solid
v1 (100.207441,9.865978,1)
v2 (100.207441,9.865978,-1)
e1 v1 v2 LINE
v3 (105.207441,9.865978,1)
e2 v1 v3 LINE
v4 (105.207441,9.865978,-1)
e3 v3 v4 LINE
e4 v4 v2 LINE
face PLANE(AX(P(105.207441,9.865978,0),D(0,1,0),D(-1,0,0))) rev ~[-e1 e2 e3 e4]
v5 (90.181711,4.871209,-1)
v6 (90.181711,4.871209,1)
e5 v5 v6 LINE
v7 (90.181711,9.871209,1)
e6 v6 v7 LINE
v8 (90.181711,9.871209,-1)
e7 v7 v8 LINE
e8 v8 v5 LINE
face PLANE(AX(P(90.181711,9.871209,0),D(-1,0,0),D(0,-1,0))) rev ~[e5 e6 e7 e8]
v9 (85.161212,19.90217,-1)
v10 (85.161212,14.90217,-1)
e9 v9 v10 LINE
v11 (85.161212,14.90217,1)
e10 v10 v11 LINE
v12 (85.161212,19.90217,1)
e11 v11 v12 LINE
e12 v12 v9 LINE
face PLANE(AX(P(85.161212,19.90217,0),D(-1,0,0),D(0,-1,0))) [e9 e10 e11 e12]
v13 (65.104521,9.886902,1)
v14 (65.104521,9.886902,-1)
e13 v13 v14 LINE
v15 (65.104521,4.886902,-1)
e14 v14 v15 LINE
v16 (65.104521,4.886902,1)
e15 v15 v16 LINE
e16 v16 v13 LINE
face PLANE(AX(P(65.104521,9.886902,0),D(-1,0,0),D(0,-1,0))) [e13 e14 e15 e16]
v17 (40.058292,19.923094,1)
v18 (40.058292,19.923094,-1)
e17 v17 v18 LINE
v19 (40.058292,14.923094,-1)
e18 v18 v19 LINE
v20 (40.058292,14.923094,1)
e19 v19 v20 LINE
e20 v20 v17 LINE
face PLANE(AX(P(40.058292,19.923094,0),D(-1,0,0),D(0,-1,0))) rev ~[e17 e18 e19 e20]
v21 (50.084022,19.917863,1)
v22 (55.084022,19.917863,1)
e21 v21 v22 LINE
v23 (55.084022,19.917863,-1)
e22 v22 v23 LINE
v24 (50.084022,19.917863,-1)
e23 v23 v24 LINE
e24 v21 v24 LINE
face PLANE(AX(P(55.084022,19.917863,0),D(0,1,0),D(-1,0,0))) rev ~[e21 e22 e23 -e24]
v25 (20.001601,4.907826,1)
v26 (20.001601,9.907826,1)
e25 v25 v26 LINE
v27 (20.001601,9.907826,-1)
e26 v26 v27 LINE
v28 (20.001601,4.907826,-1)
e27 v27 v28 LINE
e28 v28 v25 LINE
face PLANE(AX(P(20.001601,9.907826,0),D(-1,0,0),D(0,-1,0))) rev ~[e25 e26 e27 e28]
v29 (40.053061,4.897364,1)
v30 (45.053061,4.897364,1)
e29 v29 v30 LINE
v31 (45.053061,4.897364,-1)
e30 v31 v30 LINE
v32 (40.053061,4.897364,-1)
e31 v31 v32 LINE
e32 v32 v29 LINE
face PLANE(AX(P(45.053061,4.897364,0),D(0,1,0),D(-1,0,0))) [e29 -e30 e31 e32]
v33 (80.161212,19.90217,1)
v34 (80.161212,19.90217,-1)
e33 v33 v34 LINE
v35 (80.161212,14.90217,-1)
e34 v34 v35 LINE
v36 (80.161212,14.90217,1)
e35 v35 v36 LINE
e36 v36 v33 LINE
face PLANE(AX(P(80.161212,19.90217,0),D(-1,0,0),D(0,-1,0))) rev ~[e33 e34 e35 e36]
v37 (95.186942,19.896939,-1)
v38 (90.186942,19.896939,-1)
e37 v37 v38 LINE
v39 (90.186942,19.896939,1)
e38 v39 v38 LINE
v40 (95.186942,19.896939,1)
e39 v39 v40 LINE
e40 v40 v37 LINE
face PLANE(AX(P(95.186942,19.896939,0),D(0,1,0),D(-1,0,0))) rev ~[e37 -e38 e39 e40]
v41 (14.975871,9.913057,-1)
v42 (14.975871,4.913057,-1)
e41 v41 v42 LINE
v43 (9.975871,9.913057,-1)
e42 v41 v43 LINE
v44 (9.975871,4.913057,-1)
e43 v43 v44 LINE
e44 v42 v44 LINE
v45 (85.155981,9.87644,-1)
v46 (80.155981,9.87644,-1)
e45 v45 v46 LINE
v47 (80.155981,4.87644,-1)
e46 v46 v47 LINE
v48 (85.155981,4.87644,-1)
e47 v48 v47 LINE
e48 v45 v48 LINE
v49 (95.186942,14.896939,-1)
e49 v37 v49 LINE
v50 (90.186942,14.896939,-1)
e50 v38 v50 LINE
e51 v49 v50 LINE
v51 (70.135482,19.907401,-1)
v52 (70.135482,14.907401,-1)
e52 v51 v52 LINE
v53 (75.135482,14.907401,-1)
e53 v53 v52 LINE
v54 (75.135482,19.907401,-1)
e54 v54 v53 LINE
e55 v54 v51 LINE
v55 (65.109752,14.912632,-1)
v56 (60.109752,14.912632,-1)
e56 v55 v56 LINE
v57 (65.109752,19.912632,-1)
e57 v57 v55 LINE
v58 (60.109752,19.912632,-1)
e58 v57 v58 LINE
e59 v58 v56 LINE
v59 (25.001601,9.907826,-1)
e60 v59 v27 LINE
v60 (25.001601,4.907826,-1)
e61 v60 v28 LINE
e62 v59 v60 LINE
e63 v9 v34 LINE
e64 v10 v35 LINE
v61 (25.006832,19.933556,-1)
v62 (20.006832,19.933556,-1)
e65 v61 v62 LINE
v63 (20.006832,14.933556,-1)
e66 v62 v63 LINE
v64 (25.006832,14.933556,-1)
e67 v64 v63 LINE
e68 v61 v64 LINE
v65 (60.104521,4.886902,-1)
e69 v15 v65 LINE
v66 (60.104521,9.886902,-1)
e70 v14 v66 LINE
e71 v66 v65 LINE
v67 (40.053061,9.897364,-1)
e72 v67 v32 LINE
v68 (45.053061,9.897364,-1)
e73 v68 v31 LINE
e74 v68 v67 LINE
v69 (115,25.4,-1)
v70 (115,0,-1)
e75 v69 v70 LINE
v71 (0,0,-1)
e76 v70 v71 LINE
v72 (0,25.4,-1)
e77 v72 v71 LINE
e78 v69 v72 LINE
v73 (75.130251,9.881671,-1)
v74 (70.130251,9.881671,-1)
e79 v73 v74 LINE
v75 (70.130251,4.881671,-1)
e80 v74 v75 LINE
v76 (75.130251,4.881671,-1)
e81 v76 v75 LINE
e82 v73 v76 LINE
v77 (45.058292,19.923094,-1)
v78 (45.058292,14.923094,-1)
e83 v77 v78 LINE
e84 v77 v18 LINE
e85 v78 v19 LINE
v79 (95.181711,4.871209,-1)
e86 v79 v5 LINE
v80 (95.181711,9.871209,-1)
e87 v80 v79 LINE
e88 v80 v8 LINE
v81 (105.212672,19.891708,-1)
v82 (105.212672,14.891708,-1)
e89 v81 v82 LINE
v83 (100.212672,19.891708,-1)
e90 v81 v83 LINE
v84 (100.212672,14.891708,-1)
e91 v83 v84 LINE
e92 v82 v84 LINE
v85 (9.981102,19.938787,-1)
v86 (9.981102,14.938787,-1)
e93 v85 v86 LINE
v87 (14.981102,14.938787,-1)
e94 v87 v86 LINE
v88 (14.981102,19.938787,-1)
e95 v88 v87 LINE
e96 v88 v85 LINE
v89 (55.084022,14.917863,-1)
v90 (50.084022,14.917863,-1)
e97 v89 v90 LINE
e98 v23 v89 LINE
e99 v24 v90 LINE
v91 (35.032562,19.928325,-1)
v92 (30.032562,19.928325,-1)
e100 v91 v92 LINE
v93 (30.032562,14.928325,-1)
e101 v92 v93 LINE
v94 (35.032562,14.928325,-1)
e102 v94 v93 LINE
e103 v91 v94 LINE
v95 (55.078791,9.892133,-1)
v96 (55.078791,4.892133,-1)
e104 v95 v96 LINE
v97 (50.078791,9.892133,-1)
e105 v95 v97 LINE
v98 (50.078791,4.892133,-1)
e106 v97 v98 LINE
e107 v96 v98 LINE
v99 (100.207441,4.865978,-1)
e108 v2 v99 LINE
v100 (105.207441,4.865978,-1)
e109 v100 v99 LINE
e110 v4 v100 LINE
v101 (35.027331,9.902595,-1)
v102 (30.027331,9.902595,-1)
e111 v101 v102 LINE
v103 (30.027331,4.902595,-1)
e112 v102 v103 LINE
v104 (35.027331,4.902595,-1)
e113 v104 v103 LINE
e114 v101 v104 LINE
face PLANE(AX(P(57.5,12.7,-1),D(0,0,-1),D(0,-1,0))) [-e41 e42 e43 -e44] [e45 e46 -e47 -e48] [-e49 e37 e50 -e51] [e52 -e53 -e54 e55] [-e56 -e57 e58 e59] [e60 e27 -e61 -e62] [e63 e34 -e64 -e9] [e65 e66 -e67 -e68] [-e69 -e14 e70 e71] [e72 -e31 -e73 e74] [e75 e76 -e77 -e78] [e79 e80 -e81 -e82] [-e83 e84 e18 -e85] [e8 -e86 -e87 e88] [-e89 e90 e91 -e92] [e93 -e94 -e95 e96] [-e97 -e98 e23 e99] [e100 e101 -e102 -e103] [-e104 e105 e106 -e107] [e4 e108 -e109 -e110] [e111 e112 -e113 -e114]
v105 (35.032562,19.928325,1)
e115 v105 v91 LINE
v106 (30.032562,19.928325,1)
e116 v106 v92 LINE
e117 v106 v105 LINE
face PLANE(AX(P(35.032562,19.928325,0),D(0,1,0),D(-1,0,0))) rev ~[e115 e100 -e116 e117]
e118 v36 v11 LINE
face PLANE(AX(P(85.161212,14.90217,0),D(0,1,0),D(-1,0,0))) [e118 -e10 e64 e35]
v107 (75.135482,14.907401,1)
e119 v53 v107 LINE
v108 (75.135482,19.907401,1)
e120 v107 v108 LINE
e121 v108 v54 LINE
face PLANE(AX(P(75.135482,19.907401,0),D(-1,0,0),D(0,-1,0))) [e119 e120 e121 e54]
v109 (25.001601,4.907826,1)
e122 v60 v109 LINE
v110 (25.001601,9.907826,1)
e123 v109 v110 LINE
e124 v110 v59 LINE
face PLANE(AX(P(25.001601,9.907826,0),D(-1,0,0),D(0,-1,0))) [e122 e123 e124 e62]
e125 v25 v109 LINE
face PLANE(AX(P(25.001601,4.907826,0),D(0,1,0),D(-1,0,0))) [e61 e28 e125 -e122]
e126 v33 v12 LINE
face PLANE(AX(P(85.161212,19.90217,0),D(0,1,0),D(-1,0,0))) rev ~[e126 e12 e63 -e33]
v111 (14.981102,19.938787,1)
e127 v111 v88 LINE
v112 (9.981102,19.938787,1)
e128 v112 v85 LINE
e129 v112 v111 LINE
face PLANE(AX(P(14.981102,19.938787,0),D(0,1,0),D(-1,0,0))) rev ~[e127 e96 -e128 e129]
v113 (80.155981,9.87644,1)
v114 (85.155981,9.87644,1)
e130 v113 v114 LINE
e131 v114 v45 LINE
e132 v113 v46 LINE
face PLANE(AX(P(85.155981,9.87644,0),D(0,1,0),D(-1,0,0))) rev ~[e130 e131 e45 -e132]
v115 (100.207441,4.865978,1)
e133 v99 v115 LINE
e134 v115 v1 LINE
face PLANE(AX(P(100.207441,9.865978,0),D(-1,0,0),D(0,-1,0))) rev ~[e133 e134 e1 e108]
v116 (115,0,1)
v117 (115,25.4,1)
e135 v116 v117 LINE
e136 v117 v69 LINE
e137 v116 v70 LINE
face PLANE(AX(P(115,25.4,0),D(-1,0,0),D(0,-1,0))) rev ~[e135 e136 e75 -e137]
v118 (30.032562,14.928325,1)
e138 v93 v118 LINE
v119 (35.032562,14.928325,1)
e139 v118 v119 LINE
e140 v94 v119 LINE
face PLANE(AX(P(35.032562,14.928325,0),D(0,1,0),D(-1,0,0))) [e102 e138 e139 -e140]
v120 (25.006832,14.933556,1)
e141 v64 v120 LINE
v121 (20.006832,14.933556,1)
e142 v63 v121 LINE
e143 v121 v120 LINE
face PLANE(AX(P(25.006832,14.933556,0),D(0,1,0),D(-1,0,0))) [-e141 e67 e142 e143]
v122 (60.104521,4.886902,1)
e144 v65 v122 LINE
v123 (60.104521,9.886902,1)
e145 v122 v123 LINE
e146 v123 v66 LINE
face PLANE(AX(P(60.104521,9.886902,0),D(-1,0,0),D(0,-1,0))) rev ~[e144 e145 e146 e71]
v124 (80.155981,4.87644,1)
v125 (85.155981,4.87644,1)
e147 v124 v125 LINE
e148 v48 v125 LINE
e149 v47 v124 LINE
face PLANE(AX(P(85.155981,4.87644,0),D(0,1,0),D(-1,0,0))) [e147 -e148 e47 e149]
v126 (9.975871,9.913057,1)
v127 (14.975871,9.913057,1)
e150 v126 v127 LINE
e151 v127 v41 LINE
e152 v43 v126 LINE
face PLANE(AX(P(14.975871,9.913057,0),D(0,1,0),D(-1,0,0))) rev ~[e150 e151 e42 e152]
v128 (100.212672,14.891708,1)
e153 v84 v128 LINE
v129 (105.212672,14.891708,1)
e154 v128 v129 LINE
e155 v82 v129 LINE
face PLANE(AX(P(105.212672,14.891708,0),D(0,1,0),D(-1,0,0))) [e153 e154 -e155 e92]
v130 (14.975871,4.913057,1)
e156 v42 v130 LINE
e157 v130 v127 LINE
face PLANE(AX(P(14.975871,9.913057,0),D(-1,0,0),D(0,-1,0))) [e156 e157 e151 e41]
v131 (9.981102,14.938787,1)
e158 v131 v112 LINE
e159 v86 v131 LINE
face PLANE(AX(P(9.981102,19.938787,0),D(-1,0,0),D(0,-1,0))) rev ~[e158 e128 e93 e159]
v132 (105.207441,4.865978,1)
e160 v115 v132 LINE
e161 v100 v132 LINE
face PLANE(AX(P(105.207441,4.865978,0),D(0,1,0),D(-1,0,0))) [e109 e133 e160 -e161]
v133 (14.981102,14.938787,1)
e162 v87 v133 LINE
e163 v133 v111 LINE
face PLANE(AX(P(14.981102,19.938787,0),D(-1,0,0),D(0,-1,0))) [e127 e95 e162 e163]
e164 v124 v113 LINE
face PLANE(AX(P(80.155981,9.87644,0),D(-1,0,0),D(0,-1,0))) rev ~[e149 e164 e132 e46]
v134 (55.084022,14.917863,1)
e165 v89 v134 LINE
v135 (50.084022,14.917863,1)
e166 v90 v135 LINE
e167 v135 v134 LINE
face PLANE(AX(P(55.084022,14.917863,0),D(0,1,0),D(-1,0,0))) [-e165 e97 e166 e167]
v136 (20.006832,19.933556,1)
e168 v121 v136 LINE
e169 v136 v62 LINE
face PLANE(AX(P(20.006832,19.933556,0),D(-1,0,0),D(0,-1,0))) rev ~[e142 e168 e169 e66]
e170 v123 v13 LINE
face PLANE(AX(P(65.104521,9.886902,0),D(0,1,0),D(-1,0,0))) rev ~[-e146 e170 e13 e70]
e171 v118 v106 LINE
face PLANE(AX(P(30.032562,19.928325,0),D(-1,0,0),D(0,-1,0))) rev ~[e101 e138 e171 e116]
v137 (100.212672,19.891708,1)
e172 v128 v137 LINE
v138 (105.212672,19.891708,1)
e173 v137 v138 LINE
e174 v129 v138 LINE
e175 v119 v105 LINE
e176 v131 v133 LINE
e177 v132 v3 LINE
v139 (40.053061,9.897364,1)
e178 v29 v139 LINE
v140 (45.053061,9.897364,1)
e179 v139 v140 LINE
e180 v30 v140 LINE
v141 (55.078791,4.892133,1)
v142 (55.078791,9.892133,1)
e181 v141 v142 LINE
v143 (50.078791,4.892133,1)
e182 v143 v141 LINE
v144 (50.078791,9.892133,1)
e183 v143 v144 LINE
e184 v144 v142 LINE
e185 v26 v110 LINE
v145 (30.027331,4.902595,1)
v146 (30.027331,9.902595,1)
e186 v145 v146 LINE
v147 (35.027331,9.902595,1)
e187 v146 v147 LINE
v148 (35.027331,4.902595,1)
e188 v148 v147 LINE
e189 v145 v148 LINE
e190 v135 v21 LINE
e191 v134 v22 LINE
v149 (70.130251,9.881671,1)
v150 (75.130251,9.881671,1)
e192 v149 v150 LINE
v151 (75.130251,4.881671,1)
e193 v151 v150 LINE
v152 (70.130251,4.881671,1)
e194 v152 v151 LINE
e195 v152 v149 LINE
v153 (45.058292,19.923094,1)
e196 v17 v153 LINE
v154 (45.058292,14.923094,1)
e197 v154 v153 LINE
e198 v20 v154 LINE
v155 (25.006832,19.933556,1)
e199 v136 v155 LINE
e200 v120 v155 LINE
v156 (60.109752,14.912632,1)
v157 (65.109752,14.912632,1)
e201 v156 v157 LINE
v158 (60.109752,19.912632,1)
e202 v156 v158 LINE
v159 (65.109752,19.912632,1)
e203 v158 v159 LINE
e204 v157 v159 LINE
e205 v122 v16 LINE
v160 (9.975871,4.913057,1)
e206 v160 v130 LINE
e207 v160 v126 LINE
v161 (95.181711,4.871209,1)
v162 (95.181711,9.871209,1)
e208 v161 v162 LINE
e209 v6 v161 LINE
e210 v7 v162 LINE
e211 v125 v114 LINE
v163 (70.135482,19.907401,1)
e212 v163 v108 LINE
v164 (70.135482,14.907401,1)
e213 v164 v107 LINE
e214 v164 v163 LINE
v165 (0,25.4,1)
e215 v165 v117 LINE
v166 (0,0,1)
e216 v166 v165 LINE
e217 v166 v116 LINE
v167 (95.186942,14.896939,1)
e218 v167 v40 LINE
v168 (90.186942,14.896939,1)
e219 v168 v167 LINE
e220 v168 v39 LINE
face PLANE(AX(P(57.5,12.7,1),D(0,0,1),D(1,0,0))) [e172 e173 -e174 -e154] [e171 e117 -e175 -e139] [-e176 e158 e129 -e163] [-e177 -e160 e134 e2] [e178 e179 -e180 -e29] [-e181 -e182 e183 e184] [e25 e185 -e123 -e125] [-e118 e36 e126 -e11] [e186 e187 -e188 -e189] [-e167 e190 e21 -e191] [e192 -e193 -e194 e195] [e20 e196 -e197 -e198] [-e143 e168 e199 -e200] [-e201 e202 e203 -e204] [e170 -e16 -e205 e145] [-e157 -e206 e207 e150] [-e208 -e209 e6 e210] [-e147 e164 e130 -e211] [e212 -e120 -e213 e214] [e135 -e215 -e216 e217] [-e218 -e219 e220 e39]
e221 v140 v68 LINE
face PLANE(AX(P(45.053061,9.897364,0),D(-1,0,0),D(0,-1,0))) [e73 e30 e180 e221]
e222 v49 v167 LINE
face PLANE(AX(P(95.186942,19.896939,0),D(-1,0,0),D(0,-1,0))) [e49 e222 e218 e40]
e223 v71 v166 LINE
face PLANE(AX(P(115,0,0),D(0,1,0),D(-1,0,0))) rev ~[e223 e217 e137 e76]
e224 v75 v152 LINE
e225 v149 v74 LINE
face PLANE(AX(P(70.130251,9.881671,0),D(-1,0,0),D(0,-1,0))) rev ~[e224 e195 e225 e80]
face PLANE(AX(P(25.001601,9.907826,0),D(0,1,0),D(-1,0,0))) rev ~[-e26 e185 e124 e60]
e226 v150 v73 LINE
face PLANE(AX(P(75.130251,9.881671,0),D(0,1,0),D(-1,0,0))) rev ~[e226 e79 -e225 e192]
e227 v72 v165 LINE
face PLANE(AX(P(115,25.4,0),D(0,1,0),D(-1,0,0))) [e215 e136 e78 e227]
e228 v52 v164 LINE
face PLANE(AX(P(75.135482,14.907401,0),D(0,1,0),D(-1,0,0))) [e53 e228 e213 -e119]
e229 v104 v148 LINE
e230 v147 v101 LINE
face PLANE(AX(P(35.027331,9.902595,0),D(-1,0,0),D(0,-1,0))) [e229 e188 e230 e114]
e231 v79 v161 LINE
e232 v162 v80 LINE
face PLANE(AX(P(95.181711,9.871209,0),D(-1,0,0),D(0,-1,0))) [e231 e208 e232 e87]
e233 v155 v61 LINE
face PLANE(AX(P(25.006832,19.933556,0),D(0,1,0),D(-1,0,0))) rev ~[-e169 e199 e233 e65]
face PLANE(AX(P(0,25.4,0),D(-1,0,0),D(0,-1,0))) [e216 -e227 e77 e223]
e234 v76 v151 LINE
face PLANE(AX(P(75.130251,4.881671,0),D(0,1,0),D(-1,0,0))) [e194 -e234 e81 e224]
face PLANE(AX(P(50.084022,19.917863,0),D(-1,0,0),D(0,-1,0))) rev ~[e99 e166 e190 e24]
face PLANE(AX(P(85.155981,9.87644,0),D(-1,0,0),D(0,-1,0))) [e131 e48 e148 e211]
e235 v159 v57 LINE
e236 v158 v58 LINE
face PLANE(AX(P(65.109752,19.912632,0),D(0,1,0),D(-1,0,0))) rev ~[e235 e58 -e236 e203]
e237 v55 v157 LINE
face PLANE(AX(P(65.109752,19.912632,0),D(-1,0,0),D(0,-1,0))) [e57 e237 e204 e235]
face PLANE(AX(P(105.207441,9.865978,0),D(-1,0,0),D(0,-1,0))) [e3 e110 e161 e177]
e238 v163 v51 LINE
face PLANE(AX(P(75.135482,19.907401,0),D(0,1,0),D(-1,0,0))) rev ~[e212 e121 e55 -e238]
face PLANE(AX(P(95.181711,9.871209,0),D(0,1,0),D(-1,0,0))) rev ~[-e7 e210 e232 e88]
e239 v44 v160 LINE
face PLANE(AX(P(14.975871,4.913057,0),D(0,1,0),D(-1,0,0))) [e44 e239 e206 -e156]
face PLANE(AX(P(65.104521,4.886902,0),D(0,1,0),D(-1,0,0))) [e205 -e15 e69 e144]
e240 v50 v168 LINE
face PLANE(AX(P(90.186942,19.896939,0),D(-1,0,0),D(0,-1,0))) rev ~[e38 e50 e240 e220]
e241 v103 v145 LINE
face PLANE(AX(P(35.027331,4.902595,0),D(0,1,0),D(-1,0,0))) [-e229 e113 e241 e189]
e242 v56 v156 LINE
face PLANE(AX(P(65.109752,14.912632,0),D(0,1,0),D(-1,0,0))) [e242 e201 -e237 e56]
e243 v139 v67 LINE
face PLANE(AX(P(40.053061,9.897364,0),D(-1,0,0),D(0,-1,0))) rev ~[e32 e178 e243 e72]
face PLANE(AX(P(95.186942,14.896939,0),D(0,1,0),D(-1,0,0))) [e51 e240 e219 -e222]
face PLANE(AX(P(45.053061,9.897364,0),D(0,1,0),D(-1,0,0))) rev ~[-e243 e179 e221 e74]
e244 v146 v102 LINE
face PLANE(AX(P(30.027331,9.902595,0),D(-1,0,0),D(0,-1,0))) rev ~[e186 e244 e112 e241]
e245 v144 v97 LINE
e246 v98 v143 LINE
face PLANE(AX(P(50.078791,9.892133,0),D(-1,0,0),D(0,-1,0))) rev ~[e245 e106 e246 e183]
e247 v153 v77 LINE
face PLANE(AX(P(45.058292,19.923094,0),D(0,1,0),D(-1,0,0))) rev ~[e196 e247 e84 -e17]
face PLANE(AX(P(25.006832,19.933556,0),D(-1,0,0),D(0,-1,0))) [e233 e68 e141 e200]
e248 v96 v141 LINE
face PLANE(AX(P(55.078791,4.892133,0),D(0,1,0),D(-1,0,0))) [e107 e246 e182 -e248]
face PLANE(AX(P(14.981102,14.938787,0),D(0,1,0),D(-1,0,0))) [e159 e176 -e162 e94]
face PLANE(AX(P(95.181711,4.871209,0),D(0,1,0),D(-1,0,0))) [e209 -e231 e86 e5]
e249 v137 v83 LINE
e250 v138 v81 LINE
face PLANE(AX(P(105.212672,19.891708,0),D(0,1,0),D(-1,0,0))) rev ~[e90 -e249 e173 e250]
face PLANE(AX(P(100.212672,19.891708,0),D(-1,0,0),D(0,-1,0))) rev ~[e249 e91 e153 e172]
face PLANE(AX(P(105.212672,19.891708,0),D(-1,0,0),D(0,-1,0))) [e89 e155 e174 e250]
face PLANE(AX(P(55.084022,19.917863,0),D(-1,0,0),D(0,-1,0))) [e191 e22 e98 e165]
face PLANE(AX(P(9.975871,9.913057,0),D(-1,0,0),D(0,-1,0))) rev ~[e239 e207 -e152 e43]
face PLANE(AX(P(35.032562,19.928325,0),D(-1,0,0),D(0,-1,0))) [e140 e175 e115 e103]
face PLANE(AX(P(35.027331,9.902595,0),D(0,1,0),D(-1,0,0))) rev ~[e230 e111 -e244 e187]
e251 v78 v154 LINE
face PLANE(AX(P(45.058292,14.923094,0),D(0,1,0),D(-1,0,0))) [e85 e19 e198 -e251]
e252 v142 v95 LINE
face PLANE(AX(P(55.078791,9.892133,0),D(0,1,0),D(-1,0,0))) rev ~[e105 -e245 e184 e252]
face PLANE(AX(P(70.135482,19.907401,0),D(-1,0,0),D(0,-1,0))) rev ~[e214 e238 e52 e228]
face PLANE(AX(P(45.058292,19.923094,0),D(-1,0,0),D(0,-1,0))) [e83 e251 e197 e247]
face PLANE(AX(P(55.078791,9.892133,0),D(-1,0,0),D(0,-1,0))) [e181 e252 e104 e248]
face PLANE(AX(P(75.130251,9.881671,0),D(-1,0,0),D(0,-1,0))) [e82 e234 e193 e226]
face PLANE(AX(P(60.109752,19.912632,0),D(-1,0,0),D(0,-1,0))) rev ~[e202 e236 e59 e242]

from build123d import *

# Parameters (mm, degrees)
BOX_W               = 115
BOX_H               = 25.4
BOX_DEPTH           = 1
SKETCH_W            = 5
SKETCH_H            = 5
POCKET_DEPTH        = 0.001
POCKET_FACE24_W     = 5
POCKET_FACE24_H     = 5
POCKET001_DEPTH     = 5
POCKET001_FACE12_W  = 5
POCKET001_FACE12_H  = 5
POCKET002_DEPTH     = 5
POCKET002_FACE17_W  = 5
POCKET002_FACE17_H  = 5
POCKET003_DEPTH     = 1.001
POCKET003_FACE20_W  = 5
POCKET003_FACE20_H  = 5
POCKET004_DEPTH     = 5
POCKET004_FACE28_W  = 5
POCKET004_FACE28_H  = 5
POCKET005_DEPTH     = 5
POCKET005_FACE32_W  = 5
POCKET005_FACE32_H  = 5
POCKET006_DEPTH     = 5
POCKET006_FACE35_W  = 5
POCKET006_FACE35_H  = 5
POCKET007_DEPTH     = 5
POCKET007_FACE38_W  = 5
POCKET007_FACE38_H  = 5
POCKET008_DEPTH     = 5
POCKET008_FACE46_W  = 5
POCKET008_FACE46_H  = 5
POCKET009_DEPTH     = 5
POCKET009_FACE52_W  = 5
POCKET009_FACE52_H  = 5
POCKET010_DEPTH     = 5
POCKET010_FACE55_W  = 5
POCKET010_FACE55_H  = 5
POCKET011_DEPTH     = 5
POCKET011_FACE51_W  = 5
POCKET011_FACE51_H  = 5
POCKET012_DEPTH     = 5
POCKET012_FACE56_W  = 5
POCKET012_FACE56_H  = 5
POCKET013_DEPTH     = 5
POCKET013_FACE59_W  = 5
POCKET013_FACE59_H  = 5
POCKET014_DEPTH     = 5
POCKET014_FACE63_W  = 5
POCKET014_FACE63_H  = 5
POCKET015_DEPTH     = 5
POCKET015_FACE68_W  = 5
POCKET015_FACE68_H  = 5
POCKET016_DEPTH     = 5
POCKET016_FACE72_W  = 5
POCKET016_FACE72_H  = 5
POCKET017_DEPTH     = 5
POCKET017_FACE76_W  = 5
POCKET017_FACE76_H  = 5
POCKET018_DEPTH     = 5
POCKET018_FACE80_W  = 5
POCKET018_FACE80_H  = 5
POCKET019_DEPTH     = 5
POCKET019_FACE83_W  = 5
POCKET019_FACE83_H  = 5
POCKET020_DEPTH     = 5
POCKET020_FACE5_W   = 25.4
POCKET020_FACE5_H   = 115
POCKET020_FACE5_W_2 = 5
POCKET020_FACE5_H_2 = 5
PAD_DEPTH           = 1


with BuildPart() as part:
    # Box → Box (new body)
    with BuildSketch(Plane.XY):
        with Locations((57.5, 12.7)):
            Rectangle(BOX_W, BOX_H)
    extrude(amount=BOX_DEPTH)

    # Sketch → Pocket (cut, through all)
    with BuildSketch(Plane.XY):
        with Locations((12.481102, 17.438787)):
            Rectangle(SKETCH_W, SKETCH_H)
        with Locations((22.506832, 17.433556)):
            Rectangle(SKETCH_W, SKETCH_H)
        with Locations((32.532562, 17.428325)):
            Rectangle(SKETCH_W, SKETCH_H)
        with Locations((42.558292, 17.423094)):
            Rectangle(SKETCH_W, SKETCH_H)
        with Locations((52.584022, 17.417863)):
            Rectangle(SKETCH_W, SKETCH_H)
        with Locations((62.609752, 17.412632)):
            Rectangle(SKETCH_W, SKETCH_H)
        with Locations((72.635482, 17.407401)):
            Rectangle(SKETCH_W, SKETCH_H)
        with Locations((82.661212, 17.40217)):
            Rectangle(SKETCH_W, SKETCH_H)
        with Locations((92.686942, 17.396939)):
            Rectangle(SKETCH_W, SKETCH_H)
        with Locations((102.712672, 17.391708)):
            Rectangle(SKETCH_W, SKETCH_H)
        with Locations((12.475871, 7.413057)):
            Rectangle(SKETCH_W, SKETCH_H)
        with Locations((22.501601, 7.407826)):
            Rectangle(SKETCH_W, SKETCH_H)
        with Locations((32.527331, 7.402595)):
            Rectangle(SKETCH_W, SKETCH_H)
        with Locations((42.553061, 7.397364)):
            Rectangle(SKETCH_W, SKETCH_H)
        with Locations((52.578791, 7.392133)):
            Rectangle(SKETCH_W, SKETCH_H)
        with Locations((62.604521, 7.386902)):
            Rectangle(SKETCH_W, SKETCH_H)
        with Locations((72.630251, 7.381671)):
            Rectangle(SKETCH_W, SKETCH_H)
        with Locations((82.655981, 7.37644)):
            Rectangle(SKETCH_W, SKETCH_H)
        with Locations((92.681711, 7.371209)):
            Rectangle(SKETCH_W, SKETCH_H)
        with Locations((102.707441, 7.365978)):
            Rectangle(SKETCH_W, SKETCH_H)
    extrude(amount=-POCKET_DEPTH, mode=Mode.SUBTRACT)

    # Pocket Face24 → Pocket001 (cut)
    with BuildSketch(Plane(origin=(102.712672, 17.391708, 0), x_dir=(0, -1, 0), z_dir=(0, 0, -1))):
        Rectangle(POCKET_FACE24_W, POCKET_FACE24_H)
    extrude(amount=-POCKET001_DEPTH, mode=Mode.SUBTRACT)

    # Pocket001 Face12 → Pocket002 (cut)
    with BuildSketch(Plane(origin=(92.686942, 17.396939, 0), x_dir=(0, -1, 0), z_dir=(0, 0, -1))):
        Rectangle(POCKET001_FACE12_W, POCKET001_FACE12_H)
    extrude(amount=-POCKET002_DEPTH, mode=Mode.SUBTRACT)

    # Pocket002 Face17 → Pocket003 (cut, through all)
    with BuildSketch(Plane(origin=(82.661212, 17.40217, 0), x_dir=(0, -1, 0), z_dir=(0, 0, -1))):
        Rectangle(POCKET002_FACE17_W, POCKET002_FACE17_H)
    extrude(amount=-POCKET003_DEPTH, mode=Mode.SUBTRACT)

    # Pocket003 Face20 → Pocket004 (cut)
    with BuildSketch(Plane(origin=(72.635482, 17.407401, 0), x_dir=(0, -1, 0), z_dir=(0, 0, -1))):
        Rectangle(POCKET003_FACE20_W, POCKET003_FACE20_H)
    extrude(amount=-POCKET004_DEPTH, mode=Mode.SUBTRACT)

    # Pocket004 Face28 → Pocket005 (cut)
    with BuildSketch(Plane(origin=(62.609752, 17.412632, 0), x_dir=(0, -1, 0), z_dir=(0, 0, -1))):
        Rectangle(POCKET004_FACE28_W, POCKET004_FACE28_H)
    extrude(amount=-POCKET005_DEPTH, mode=Mode.SUBTRACT)

    # Pocket005 Face32 → Pocket006 (cut)
    with BuildSketch(Plane(origin=(52.584022, 17.417863, 0), x_dir=(0, -1, 0), z_dir=(0, 0, -1))):
        Rectangle(POCKET005_FACE32_W, POCKET005_FACE32_H)
    extrude(amount=-POCKET006_DEPTH, mode=Mode.SUBTRACT)

    # Pocket006 Face35 → Pocket007 (cut)
    with BuildSketch(Plane(origin=(42.558292, 17.423094, 0), x_dir=(0, -1, 0), z_dir=(0, 0, -1))):
        Rectangle(POCKET006_FACE35_W, POCKET006_FACE35_H)
    extrude(amount=-POCKET007_DEPTH, mode=Mode.SUBTRACT)

    # Pocket007 Face38 → Pocket008 (cut)
    with BuildSketch(Plane(origin=(32.532562, 17.428325, 0), x_dir=(0, -1, 0), z_dir=(0, 0, -1))):
        Rectangle(POCKET007_FACE38_W, POCKET007_FACE38_H)
    extrude(amount=-POCKET008_DEPTH, mode=Mode.SUBTRACT)

    # Pocket008 Face46 → Pocket009 (cut)
    with BuildSketch(Plane(origin=(22.506832, 17.433556, 0), x_dir=(0, -1, 0), z_dir=(0, 0, -1))):
        Rectangle(POCKET008_FACE46_W, POCKET008_FACE46_H)
    extrude(amount=-POCKET009_DEPTH, mode=Mode.SUBTRACT)

    # Pocket009 Face52 → Pocket010 (cut)
    with BuildSketch(Plane(origin=(12.481102, 17.438787, 0), x_dir=(0, -1, 0), z_dir=(0, 0, -1))):
        Rectangle(POCKET009_FACE52_W, POCKET009_FACE52_H)
    extrude(amount=-POCKET010_DEPTH, mode=Mode.SUBTRACT)

    # Pocket010 Face55 → Pocket011 (cut)
    with BuildSketch(Plane(origin=(102.707441, 7.365978, 0), x_dir=(0, -1, 0), z_dir=(0, 0, -1))):
        Rectangle(POCKET010_FACE55_W, POCKET010_FACE55_H)
    extrude(amount=-POCKET011_DEPTH, mode=Mode.SUBTRACT)

    # Pocket011 Face51 → Pocket012 (cut)
    with BuildSketch(Plane(origin=(92.681711, 7.371209, 0), x_dir=(0, -1, 0), z_dir=(0, 0, -1))):
        Rectangle(POCKET011_FACE51_W, POCKET011_FACE51_H)
    extrude(amount=-POCKET012_DEPTH, mode=Mode.SUBTRACT)

    # Pocket012 Face56 → Pocket013 (cut)
    with BuildSketch(Plane(origin=(82.655981, 7.37644, 0), x_dir=(0, -1, 0), z_dir=(0, 0, -1))):
        Rectangle(POCKET012_FACE56_W, POCKET012_FACE56_H)
    extrude(amount=-POCKET013_DEPTH, mode=Mode.SUBTRACT)

    # Pocket013 Face59 → Pocket014 (cut)
    with BuildSketch(Plane(origin=(72.630251, 7.381671, 0), x_dir=(0, -1, 0), z_dir=(0, 0, -1))):
        Rectangle(POCKET013_FACE59_W, POCKET013_FACE59_H)
    extrude(amount=-POCKET014_DEPTH, mode=Mode.SUBTRACT)

    # Pocket014 Face63 → Pocket015 (cut)
    with BuildSketch(Plane(origin=(62.604521, 7.386902, 0), x_dir=(0, -1, 0), z_dir=(0, 0, -1))):
        Rectangle(POCKET014_FACE63_W, POCKET014_FACE63_H)
    extrude(amount=-POCKET015_DEPTH, mode=Mode.SUBTRACT)

    # Pocket015 Face68 → Pocket016 (cut)
    with BuildSketch(Plane(origin=(42.553061, 7.397364, 0), x_dir=(0, -1, 0), z_dir=(0, 0, -1))):
        Rectangle(POCKET015_FACE68_W, POCKET015_FACE68_H)
    extrude(amount=-POCKET016_DEPTH, mode=Mode.SUBTRACT)

    # Pocket016 Face72 → Pocket017 (cut)
    with BuildSketch(Plane(origin=(32.527331, 7.402595, 0), x_dir=(0, -1, 0), z_dir=(0, 0, -1))):
        Rectangle(POCKET016_FACE72_W, POCKET016_FACE72_H)
    extrude(amount=-POCKET017_DEPTH, mode=Mode.SUBTRACT)

    # Pocket017 Face76 → Pocket018 (cut)
    with BuildSketch(Plane(origin=(22.501601, 7.407826, 0), x_dir=(0, -1, 0), z_dir=(0, 0, -1))):
        Rectangle(POCKET017_FACE76_W, POCKET017_FACE76_H)
    extrude(amount=-POCKET018_DEPTH, mode=Mode.SUBTRACT)

    # Pocket018 Face80 → Pocket019 (cut)
    with BuildSketch(Plane(origin=(12.475871, 7.413057, 0), x_dir=(0, -1, 0), z_dir=(0, 0, -1))):
        Rectangle(POCKET018_FACE80_W, POCKET018_FACE80_H)
    extrude(amount=-POCKET019_DEPTH, mode=Mode.SUBTRACT)

    # Pocket019 Face83 → Pocket020 (cut)
    with BuildSketch(Plane(origin=(52.578791, 7.392133, 0), x_dir=(0, -1, 0), z_dir=(0, 0, -1))):
        Rectangle(POCKET019_FACE83_W, POCKET019_FACE83_H)
    extrude(amount=-POCKET020_DEPTH, mode=Mode.SUBTRACT)

    # Pocket020 Face5 → Pad (add)
    with BuildSketch(Plane(origin=(57.48053, 12.761466, 0), x_dir=(0, -1, 0), z_dir=(0, 0, -1))):
        with Locations((0.061466, -0.01947)):
            Rectangle(POCKET020_FACE5_W, POCKET020_FACE5_H)
        with Locations((5.390257, -35.201181)):
            Rectangle(POCKET020_FACE5_W_2, POCKET020_FACE5_H_2, mode=Mode.SUBTRACT)
        with Locations((-4.635473, -35.206412)):
            Rectangle(POCKET020_FACE5_W_2, POCKET020_FACE5_H_2, mode=Mode.SUBTRACT)
        with Locations((-4.645935, -15.154952)):
            Rectangle(POCKET020_FACE5_W_2, POCKET020_FACE5_H_2, mode=Mode.SUBTRACT)
        with Locations((-4.640704, -25.180682)):
            Rectangle(POCKET020_FACE5_W_2, POCKET020_FACE5_H_2, mode=Mode.SUBTRACT)
        with Locations((5.379795, -15.149721)):
            Rectangle(POCKET020_FACE5_W_2, POCKET020_FACE5_H_2, mode=Mode.SUBTRACT)
        with Locations((5.385026, -25.175451)):
            Rectangle(POCKET020_FACE5_W_2, POCKET020_FACE5_H_2, mode=Mode.SUBTRACT)
        with Locations((-4.666859, 24.947968)):
            Rectangle(POCKET020_FACE5_W_2, POCKET020_FACE5_H_2, mode=Mode.SUBTRACT)
        with Locations((-4.661628, 14.922238)):
            Rectangle(POCKET020_FACE5_W_2, POCKET020_FACE5_H_2, mode=Mode.SUBTRACT)
        with Locations((-4.651166, -5.129222)):
            Rectangle(POCKET020_FACE5_W_2, POCKET020_FACE5_H_2, mode=Mode.SUBTRACT)
        with Locations((-4.656397, 4.896508)):
            Rectangle(POCKET020_FACE5_W_2, POCKET020_FACE5_H_2, mode=Mode.SUBTRACT)
        with Locations((5.374564, -5.123991)):
            Rectangle(POCKET020_FACE5_W_2, POCKET020_FACE5_H_2, mode=Mode.SUBTRACT)
        with Locations((5.369333, 4.901739)):
            Rectangle(POCKET020_FACE5_W_2, POCKET020_FACE5_H_2, mode=Mode.SUBTRACT)
        with Locations((5.364102, 14.927469)):
            Rectangle(POCKET020_FACE5_W_2, POCKET020_FACE5_H_2, mode=Mode.SUBTRACT)
        with Locations((5.358871, 24.953199)):
            Rectangle(POCKET020_FACE5_W_2, POCKET020_FACE5_H_2, mode=Mode.SUBTRACT)
        with Locations((-4.67209, 34.973698)):
            Rectangle(POCKET020_FACE5_W_2, POCKET020_FACE5_H_2, mode=Mode.SUBTRACT)
        with Locations((5.35364, 34.978929)):
            Rectangle(POCKET020_FACE5_W_2, POCKET020_FACE5_H_2, mode=Mode.SUBTRACT)
        with Locations((5.395488, -45.226911)):
            Rectangle(POCKET020_FACE5_W_2, POCKET020_FACE5_H_2, mode=Mode.SUBTRACT)
        with Locations((-4.630242, -45.232142)):
            Rectangle(POCKET020_FACE5_W_2, POCKET020_FACE5_H_2, mode=Mode.SUBTRACT)
        with Locations((-4.677321, 44.999428)):
            Rectangle(POCKET020_FACE5_W_2, POCKET020_FACE5_H_2, mode=Mode.SUBTRACT)
        with Locations((5.348409, 45.004659)):
            Rectangle(POCKET020_FACE5_W_2, POCKET020_FACE5_H_2, mode=Mode.SUBTRACT)
    extrude(amount=PAD_DEPTH)


solid = part.part
